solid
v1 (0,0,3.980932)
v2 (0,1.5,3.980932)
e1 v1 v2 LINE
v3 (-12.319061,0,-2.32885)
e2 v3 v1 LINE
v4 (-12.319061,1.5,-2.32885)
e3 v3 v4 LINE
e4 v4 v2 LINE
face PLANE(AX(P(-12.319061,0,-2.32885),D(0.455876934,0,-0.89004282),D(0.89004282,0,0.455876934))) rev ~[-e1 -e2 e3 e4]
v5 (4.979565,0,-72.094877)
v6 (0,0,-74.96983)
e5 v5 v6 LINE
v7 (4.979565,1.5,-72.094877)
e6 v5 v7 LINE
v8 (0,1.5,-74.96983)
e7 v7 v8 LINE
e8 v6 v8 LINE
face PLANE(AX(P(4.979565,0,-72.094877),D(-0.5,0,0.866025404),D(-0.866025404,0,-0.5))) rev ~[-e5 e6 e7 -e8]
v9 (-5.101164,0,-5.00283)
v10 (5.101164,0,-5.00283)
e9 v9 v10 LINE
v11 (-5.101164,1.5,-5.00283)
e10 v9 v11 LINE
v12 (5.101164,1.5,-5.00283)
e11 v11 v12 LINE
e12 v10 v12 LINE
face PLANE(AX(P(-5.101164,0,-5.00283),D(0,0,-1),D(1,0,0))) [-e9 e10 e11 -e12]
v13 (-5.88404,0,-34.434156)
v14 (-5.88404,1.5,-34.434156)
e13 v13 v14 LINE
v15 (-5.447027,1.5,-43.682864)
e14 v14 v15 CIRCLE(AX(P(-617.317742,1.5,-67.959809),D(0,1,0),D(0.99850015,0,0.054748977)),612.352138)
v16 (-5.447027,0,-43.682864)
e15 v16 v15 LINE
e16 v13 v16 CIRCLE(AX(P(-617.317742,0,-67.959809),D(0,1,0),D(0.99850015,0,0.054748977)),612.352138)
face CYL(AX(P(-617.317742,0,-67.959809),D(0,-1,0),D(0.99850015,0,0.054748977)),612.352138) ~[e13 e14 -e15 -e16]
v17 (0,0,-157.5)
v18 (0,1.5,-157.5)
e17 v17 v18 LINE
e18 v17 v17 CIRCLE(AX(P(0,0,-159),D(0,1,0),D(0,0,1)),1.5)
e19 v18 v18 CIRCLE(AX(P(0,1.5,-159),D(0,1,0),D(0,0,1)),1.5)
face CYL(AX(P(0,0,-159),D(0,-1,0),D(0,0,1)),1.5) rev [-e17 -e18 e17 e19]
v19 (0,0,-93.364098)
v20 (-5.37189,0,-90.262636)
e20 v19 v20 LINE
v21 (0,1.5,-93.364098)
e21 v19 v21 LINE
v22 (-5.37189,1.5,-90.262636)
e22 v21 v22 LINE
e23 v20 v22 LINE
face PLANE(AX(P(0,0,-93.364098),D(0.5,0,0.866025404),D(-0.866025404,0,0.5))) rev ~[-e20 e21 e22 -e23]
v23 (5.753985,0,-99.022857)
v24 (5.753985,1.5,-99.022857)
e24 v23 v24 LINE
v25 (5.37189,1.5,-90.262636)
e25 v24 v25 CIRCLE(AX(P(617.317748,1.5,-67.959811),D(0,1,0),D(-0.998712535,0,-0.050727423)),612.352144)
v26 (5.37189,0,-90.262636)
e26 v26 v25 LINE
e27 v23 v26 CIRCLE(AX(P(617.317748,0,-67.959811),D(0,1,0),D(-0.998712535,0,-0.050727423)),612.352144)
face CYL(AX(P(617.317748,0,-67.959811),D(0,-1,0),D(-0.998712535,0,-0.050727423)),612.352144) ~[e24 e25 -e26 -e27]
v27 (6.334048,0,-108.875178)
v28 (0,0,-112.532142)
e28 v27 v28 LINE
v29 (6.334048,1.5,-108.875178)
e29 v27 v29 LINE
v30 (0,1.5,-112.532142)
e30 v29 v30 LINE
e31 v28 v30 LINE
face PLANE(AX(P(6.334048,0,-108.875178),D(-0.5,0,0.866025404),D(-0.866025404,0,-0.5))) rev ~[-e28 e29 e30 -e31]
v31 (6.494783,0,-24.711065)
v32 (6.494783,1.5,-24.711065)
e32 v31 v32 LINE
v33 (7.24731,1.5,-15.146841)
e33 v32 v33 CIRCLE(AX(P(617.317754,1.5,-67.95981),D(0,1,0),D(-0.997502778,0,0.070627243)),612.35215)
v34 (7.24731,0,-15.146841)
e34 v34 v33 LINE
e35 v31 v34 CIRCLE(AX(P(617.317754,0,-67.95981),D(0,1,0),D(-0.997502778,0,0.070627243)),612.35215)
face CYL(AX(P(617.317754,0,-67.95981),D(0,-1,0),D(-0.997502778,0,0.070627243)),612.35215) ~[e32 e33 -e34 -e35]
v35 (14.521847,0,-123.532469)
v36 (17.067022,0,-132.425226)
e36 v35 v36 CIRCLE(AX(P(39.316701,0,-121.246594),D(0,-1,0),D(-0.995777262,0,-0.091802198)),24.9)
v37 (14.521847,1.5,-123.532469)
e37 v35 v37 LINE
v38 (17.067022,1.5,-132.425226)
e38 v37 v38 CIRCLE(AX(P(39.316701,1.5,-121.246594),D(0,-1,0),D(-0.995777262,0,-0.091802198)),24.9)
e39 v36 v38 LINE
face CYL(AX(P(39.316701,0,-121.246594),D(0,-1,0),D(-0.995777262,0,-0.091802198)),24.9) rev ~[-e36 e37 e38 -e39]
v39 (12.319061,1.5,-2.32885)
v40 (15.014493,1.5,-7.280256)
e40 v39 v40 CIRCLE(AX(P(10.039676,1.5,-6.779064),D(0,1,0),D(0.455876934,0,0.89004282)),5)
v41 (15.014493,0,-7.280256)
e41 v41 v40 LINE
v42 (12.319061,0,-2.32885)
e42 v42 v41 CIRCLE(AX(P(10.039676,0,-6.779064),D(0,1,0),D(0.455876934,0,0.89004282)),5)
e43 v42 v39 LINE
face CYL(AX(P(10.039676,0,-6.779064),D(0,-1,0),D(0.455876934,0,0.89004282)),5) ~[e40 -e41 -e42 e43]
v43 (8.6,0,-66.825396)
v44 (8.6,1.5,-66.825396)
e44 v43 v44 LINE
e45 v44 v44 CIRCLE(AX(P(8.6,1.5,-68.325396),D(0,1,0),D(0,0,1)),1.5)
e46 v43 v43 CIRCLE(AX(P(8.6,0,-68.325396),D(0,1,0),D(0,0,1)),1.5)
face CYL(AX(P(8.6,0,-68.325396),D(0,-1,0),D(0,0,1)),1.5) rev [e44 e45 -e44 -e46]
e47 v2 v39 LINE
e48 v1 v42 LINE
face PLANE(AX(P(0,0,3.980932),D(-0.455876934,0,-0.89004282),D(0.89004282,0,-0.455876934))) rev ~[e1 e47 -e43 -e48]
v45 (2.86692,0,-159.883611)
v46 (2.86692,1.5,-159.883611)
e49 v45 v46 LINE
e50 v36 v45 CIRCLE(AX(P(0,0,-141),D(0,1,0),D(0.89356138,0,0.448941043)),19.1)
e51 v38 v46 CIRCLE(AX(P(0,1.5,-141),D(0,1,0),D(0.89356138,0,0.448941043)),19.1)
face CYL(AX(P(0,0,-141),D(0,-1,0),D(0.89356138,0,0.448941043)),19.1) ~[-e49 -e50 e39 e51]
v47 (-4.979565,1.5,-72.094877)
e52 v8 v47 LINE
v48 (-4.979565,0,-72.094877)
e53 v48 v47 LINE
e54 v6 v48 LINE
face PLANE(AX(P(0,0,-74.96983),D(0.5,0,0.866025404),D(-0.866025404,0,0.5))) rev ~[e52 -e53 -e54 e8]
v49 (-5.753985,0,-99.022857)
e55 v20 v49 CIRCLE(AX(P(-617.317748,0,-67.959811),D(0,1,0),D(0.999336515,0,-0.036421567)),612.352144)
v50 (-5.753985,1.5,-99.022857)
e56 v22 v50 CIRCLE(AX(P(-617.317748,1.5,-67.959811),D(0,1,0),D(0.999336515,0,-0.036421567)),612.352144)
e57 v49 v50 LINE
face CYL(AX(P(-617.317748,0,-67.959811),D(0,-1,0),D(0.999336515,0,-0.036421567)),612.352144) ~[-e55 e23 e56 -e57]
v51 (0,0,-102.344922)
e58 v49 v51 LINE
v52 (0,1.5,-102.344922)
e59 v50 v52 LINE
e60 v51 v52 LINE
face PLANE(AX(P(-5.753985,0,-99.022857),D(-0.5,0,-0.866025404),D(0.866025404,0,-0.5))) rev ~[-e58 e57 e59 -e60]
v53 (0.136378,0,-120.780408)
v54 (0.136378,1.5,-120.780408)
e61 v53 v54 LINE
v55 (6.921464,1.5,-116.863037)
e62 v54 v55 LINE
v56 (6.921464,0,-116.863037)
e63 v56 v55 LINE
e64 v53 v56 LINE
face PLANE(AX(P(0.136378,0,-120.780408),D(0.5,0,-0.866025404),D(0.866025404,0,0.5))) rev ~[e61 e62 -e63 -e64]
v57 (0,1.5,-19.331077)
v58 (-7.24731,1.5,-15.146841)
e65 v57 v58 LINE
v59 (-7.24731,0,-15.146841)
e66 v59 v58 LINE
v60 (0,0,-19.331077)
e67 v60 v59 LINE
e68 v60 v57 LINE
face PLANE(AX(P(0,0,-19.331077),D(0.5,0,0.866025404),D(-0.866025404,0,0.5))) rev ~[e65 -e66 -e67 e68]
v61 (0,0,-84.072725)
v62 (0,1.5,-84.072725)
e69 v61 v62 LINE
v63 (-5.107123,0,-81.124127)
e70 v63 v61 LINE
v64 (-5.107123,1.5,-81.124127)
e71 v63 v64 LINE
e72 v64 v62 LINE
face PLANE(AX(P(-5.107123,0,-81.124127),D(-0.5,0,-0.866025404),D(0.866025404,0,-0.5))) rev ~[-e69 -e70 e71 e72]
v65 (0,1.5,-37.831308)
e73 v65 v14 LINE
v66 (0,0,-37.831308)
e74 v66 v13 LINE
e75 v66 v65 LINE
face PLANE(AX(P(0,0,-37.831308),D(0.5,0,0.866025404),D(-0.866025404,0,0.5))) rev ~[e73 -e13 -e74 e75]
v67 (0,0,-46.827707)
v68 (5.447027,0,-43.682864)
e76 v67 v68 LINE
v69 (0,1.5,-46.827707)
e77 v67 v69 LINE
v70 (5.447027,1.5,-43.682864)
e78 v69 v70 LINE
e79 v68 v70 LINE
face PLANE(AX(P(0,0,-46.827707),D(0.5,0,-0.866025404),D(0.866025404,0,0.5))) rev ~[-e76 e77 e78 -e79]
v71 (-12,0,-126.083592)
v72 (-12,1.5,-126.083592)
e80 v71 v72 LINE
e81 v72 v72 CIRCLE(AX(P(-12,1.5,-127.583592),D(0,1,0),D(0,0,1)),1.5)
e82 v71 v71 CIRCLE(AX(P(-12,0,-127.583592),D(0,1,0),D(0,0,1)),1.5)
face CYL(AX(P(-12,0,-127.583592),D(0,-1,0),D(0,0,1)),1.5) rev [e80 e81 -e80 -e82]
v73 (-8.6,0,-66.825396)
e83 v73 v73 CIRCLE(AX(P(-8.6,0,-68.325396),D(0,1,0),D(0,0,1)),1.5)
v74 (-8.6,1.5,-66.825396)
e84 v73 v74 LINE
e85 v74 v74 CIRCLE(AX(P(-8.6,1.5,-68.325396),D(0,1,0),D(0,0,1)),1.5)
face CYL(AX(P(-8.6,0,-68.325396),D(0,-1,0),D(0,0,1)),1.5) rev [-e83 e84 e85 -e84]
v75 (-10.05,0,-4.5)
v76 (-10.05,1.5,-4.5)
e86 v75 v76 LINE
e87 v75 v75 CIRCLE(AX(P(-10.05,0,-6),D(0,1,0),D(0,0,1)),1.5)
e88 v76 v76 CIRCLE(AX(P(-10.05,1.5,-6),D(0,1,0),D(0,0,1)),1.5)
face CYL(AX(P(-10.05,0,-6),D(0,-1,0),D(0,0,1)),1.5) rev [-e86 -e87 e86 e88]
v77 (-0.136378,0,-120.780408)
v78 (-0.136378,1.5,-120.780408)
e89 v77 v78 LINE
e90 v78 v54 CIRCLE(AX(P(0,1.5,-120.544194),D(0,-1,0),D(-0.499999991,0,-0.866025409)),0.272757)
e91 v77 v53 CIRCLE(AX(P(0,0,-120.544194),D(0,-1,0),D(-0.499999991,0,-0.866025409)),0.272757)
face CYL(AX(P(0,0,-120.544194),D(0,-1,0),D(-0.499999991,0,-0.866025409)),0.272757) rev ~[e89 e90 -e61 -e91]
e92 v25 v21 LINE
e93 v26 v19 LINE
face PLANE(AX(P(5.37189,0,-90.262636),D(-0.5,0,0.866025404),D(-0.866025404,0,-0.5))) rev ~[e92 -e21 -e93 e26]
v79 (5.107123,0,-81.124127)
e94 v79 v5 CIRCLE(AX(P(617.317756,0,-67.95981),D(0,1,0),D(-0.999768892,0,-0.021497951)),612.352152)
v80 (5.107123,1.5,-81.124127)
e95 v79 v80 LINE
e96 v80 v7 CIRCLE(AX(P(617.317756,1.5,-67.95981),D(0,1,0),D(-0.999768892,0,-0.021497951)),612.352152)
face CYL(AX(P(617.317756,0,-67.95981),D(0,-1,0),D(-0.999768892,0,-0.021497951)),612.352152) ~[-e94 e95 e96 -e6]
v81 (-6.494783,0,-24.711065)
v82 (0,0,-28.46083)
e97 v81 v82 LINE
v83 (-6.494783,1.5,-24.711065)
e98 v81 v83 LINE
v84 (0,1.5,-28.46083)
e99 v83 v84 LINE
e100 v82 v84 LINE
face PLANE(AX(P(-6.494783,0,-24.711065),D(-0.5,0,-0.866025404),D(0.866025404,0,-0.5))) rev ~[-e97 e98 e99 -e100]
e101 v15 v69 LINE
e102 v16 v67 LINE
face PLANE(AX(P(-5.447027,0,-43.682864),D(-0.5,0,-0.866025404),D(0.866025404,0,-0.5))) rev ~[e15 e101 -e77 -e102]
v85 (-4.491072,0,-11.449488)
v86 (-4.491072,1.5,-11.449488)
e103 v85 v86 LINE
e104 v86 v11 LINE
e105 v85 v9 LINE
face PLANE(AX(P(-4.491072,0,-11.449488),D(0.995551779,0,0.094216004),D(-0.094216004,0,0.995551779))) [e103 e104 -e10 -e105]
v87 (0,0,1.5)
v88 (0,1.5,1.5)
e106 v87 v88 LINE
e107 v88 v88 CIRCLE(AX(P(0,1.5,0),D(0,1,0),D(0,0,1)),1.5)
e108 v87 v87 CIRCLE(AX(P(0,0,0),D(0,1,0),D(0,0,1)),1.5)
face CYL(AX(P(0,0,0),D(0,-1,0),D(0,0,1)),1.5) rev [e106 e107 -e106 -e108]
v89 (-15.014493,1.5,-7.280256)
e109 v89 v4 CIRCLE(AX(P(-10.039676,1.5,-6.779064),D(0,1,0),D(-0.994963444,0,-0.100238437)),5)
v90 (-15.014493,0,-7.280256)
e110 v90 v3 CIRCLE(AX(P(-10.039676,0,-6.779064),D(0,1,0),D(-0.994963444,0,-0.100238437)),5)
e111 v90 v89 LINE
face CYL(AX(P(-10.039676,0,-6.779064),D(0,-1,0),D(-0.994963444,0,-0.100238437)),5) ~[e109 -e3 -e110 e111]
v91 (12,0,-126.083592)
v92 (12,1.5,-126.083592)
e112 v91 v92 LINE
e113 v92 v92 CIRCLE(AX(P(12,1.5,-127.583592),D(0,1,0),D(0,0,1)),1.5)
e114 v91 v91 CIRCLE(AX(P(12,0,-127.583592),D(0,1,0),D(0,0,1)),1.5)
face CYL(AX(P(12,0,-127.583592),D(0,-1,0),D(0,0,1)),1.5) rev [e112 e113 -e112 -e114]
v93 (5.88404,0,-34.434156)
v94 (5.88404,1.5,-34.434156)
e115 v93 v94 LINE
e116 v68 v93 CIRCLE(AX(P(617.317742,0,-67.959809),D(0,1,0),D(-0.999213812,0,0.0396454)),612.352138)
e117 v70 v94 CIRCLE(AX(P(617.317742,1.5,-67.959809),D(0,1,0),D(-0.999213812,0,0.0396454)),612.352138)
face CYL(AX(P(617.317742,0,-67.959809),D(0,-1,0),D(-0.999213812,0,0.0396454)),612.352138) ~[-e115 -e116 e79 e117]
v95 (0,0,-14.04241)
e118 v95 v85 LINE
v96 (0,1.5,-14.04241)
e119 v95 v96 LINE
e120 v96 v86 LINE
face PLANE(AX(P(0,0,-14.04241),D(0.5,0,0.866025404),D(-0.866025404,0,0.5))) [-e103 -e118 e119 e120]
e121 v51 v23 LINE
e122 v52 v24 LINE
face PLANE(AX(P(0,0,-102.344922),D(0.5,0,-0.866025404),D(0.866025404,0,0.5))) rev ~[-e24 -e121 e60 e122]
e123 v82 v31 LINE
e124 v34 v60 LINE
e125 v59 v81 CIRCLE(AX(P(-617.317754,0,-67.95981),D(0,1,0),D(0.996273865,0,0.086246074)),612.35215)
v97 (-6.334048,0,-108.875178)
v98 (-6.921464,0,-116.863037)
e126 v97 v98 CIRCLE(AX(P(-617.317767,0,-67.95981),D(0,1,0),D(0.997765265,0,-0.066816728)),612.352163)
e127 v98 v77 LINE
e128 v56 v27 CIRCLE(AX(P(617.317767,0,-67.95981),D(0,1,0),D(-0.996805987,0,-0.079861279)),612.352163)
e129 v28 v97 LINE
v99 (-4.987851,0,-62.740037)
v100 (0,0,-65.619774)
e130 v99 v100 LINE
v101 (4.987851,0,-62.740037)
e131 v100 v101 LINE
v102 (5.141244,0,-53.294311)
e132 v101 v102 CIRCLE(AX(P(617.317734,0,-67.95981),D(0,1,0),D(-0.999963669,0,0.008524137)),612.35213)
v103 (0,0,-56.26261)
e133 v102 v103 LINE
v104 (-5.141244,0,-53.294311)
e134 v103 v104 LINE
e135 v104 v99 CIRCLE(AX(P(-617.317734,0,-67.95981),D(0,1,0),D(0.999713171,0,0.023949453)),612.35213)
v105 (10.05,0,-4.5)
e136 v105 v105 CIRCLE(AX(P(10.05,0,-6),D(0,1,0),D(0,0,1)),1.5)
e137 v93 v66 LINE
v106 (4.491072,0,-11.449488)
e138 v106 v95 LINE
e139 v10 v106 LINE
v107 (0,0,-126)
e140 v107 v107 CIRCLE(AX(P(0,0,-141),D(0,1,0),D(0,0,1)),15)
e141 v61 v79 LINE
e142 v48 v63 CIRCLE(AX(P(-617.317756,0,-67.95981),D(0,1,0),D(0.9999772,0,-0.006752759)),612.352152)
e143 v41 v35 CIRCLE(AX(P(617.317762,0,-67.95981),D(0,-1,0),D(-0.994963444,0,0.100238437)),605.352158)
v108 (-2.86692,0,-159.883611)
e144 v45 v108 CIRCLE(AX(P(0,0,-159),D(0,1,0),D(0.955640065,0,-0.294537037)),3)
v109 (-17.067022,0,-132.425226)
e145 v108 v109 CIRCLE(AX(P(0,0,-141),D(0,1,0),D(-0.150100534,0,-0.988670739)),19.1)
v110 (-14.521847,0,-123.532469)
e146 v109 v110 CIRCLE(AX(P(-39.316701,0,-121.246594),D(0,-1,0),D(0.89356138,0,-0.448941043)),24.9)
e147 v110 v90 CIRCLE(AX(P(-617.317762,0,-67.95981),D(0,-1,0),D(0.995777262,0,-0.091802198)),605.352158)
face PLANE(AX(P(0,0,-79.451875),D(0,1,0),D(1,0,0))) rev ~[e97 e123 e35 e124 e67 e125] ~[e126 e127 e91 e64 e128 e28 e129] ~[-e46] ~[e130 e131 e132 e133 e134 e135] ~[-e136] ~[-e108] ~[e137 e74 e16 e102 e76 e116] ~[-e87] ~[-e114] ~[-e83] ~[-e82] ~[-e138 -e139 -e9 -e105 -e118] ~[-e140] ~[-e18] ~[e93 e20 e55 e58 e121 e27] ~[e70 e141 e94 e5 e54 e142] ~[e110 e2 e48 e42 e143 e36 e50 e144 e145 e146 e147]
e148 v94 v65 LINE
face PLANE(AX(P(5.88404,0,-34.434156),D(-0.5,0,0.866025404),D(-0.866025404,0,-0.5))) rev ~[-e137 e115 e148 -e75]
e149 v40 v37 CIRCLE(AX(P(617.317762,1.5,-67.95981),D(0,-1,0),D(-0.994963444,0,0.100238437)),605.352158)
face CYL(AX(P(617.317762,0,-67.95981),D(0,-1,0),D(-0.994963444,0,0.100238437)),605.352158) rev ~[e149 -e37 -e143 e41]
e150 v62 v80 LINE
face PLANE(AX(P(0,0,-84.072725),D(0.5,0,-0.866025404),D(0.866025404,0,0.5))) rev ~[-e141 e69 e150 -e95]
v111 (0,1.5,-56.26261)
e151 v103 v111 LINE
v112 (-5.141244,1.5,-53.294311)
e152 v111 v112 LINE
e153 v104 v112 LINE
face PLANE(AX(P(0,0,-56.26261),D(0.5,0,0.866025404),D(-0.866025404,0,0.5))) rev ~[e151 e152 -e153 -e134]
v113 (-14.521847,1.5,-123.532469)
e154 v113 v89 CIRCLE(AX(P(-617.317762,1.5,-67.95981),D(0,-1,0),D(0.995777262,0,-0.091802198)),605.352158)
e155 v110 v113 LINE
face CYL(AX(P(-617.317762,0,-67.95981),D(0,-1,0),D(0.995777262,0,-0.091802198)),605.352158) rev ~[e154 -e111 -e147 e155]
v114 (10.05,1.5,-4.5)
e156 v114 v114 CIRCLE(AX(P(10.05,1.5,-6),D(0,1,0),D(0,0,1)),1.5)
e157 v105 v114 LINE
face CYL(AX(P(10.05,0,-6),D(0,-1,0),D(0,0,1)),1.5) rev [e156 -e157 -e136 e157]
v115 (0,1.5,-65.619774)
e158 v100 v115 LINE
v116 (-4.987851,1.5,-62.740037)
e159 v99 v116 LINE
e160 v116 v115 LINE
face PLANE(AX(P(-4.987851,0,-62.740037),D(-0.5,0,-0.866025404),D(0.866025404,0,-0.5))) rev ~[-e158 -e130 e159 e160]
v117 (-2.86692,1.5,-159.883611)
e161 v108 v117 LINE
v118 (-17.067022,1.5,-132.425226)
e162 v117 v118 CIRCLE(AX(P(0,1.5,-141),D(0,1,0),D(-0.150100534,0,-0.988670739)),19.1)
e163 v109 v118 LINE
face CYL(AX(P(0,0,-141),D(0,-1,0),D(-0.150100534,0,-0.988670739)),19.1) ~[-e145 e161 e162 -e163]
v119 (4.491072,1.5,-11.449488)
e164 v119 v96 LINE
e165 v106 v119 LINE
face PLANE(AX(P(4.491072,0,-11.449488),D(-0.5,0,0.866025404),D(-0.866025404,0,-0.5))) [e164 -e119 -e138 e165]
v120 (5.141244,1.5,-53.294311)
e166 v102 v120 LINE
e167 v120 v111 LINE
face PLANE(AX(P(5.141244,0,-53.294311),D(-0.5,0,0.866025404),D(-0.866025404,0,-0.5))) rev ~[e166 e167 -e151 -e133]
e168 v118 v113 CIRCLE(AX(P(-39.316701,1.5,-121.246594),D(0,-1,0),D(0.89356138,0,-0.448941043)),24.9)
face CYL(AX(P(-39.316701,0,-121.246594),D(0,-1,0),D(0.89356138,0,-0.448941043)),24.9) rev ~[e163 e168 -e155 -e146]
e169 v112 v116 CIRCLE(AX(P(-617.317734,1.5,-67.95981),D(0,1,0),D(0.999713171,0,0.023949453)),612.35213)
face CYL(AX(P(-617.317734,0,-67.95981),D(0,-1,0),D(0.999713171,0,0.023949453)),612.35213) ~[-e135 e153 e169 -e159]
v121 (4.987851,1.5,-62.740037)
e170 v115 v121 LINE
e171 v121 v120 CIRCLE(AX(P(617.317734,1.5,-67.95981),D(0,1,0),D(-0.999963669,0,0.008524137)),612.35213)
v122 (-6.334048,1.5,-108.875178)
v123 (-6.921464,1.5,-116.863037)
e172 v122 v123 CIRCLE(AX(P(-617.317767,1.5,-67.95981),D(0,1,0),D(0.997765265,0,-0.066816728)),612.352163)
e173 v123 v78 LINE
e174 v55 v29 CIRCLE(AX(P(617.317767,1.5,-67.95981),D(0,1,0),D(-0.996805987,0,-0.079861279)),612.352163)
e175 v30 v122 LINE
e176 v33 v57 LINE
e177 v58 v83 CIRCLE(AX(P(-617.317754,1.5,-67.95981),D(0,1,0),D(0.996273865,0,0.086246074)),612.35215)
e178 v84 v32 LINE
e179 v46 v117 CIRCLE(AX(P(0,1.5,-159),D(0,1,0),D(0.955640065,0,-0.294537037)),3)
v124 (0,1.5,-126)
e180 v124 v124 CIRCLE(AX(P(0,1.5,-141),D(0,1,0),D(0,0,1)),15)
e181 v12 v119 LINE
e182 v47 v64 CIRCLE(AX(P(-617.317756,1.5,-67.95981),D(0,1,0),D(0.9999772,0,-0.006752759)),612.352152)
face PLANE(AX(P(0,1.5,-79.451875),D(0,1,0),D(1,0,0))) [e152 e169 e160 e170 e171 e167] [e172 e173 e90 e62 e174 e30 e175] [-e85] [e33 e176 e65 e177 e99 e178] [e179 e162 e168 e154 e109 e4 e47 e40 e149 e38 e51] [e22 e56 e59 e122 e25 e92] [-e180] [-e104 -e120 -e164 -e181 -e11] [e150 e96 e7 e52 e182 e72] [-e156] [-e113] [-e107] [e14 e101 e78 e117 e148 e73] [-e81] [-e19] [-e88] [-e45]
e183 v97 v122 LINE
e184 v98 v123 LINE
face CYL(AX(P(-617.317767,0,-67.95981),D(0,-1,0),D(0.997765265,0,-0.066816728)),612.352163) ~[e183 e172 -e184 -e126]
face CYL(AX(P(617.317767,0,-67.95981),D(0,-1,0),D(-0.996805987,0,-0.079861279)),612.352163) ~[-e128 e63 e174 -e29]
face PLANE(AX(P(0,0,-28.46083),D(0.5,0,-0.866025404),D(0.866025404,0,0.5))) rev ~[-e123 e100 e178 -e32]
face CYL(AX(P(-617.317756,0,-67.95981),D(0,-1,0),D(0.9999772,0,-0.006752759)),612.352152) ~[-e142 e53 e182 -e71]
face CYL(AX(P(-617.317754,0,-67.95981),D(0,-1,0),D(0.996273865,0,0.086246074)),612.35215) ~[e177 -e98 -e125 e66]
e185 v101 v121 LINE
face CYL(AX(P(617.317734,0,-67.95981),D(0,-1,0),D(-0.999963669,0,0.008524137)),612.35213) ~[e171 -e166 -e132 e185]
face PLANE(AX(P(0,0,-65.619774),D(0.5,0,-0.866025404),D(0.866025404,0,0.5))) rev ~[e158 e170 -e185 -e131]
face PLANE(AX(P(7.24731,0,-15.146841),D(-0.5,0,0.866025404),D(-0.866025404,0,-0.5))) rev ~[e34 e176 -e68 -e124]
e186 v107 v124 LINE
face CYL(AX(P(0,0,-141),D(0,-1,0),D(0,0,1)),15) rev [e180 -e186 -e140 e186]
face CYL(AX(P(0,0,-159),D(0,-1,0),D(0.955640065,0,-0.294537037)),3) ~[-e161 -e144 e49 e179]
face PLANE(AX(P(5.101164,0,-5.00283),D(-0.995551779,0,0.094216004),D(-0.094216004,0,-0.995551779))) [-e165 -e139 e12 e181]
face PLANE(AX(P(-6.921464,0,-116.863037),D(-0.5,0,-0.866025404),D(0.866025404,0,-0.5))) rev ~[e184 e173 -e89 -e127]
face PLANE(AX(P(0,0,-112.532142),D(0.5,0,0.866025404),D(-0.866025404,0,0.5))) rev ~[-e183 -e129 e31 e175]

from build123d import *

# Parameters (mm, degrees)
SKETCH_1_R      = 1.5
SKETCH_1_R_2    = 15
EXTRUDE_1_DEPTH = 1.5


with BuildPart() as part:
    # 草圖1 → 填料-伸長1 (new body)
    with BuildSketch(Plane(origin=(0, 0, 0), x_dir=(1, 0, 0), z_dir=(0, 1, 0))):
        with BuildLine():
            Line((0, -3.980931511), (12.319060855, 2.328849967))
            ThreePointArc((12.319060855, 2.328849967), (14.431141465, 4.388450613), (15.014493405, 7.28025625))
            ThreePointArc((15.014493405, 7.28025625), (11.971039141, 65.394509034), (14.52184689, 123.53246884))
            ThreePointArc((14.52184689, 123.53246884), (15.377876917, 128.098069479), (17.067022361, 132.425226083))
            ThreePointArc((17.067022361, 132.425226083), (16.965589985, 149.77375384), (2.866920195, 159.883611111))
            ThreePointArc((2.866920195, 159.883611111), (0, 162), (-2.866920195, 159.883611111))
            ThreePointArc((-2.866920195, 159.883611111), (-16.965589985, 149.77375384), (-17.067022361, 132.425226083))
            ThreePointArc((-17.067022361, 132.425226083), (-15.377876917, 128.098069479), (-14.52184689, 123.53246884))
            ThreePointArc((-14.52184689, 123.53246884), (-11.971039141, 65.394509034), (-15.014493405, 7.28025625))
            ThreePointArc((-15.014493405, 7.28025625), (-14.431141465, 4.388450613), (-12.319060855, 2.328849967))
            Line((-12.319060855, 2.328849967), (0, -3.980931511))
        make_face()
        with Locations(Location((-12, 127.583592135, 0), (0, 0, 270))):
            Circle(SKETCH_1_R, mode=Mode.SUBTRACT)
        with Locations(Location((12, 127.583592135, 0), (0, 0, 270))):
            Circle(SKETCH_1_R, mode=Mode.SUBTRACT)
        with Locations(Location((8.6, 68.325395665, 0), (0, 0, 270))):
            Circle(SKETCH_1_R, mode=Mode.SUBTRACT)
        with Locations(Location((-8.6, 68.325395665, 0), (0, 0, 270))):
            Circle(SKETCH_1_R, mode=Mode.SUBTRACT)
        with Locations(Location((10.05, 6, 0), (0, 0, 270))):
            Circle(SKETCH_1_R, mode=Mode.SUBTRACT)
        with Locations(Location((-10.05, 6, 0), (0, 0, 270))):
            Circle(SKETCH_1_R, mode=Mode.SUBTRACT)
        with Locations(Location((0, 159, 0), (0, 0, 270))):
            Circle(SKETCH_1_R, mode=Mode.SUBTRACT)
        with Locations(Location((0, 0, 0), (0, 0, 270))):
            Circle(SKETCH_1_R, mode=Mode.SUBTRACT)
        with Locations(Location((0, 141, 0), (0, 0, 270))):
            Circle(SKETCH_1_R_2, mode=Mode.SUBTRACT)
        Polygon((0, 14.042409585), (-4.491071946, 11.449487988), (-5.101164168, 5.002829556), (5.101164168, 5.002829556), (4.491071946, 11.449487988), align=None, mode=Mode.SUBTRACT)
        with BuildLine():
            Line((0, 112.532142135), (-6.334048162, 108.875177723))
            ThreePointArc((-6.334048162, 108.875177723), (-6.614696141, 112.870067669), (-6.92146425, 116.863036776))
            Line((-6.92146425, 116.863036776), (-0.136378432, 120.780407899))
            ThreePointArc((-0.136378432, 120.780407899), (0, 120.816950389), (0.136378432, 120.780407899))
            Line((0.136378432, 120.780407899), (6.92146425, 116.863036776))
            ThreePointArc((6.92146425, 116.863036776), (6.614696141, 112.870067669), (6.334048162, 108.875177723))
            Line((6.334048162, 108.875177723), (0, 112.532142135))
        make_face(mode=Mode.SUBTRACT)
        with BuildLine():
            Line((0, 102.344922167), (5.753985291, 99.02285721))
            ThreePointArc((5.753985291, 99.02285721), (5.547257407, 94.643430297), (5.371890331, 90.262635518))
            Line((5.371890331, 90.262635518), (0, 93.364097846))
            Line((0, 93.364097846), (-5.371890331, 90.262635518))
            ThreePointArc((-5.371890331, 90.262635518), (-5.547257407, 94.643430297), (-5.753985291, 99.02285721))
            Line((-5.753985291, 99.02285721), (0, 102.344922167))
        make_face(mode=Mode.SUBTRACT)
        with BuildLine():
            Line((0, 84.072725452), (5.10712289, 81.124126676))
            ThreePointArc((5.10712289, 81.124126676), (5.026699976, 76.609736924), (4.97956534, 72.094876904))
            Line((4.97956534, 72.094876904), (0, 74.969830293))
            Line((0, 74.969830293), (-4.97956534, 72.094876904))
            ThreePointArc((-4.97956534, 72.094876904), (-5.026699976, 76.609736924), (-5.10712289, 81.124126676))
            Line((-5.10712289, 81.124126676), (0, 84.072725452))
        make_face(mode=Mode.SUBTRACT)
        with BuildLine():
            Line((0, 65.619773758), (4.987851065, 62.740036603))
            ThreePointArc((4.987851065, 62.740036603), (5.046332025, 58.016878131), (5.141244155, 53.29431128))
            Line((5.141244155, 53.29431128), (0, 56.262609977))
            Line((0, 56.262609977), (-5.141244155, 53.29431128))
            ThreePointArc((-5.141244155, 53.29431128), (-5.046332025, 58.016878131), (-4.987851065, 62.740036603))
            Line((-4.987851065, 62.740036603), (0, 65.619773758))
        make_face(mode=Mode.SUBTRACT)
        with BuildLine():
            Line((0, 46.827706802), (5.447027498, 43.68286401))
            ThreePointArc((5.447027498, 43.68286401), (5.648052955, 39.057684109), (5.884040018, 34.434156186))
            Line((5.884040018, 34.434156186), (0, 37.831308275))
            Line((0, 37.831308275), (-5.884040018, 34.434156186))
            ThreePointArc((-5.884040018, 34.434156186), (-5.648052955, 39.057684109), (-5.447027498, 43.68286401))
            Line((-5.447027498, 43.68286401), (0, 46.827706802))
        make_face(mode=Mode.SUBTRACT)
        with BuildLine():
            Line((0, 28.460830008), (6.494782795, 24.711065414))
            ThreePointArc((6.494782795, 24.711065414), (6.852315766, 19.927479382), (7.247310233, 15.146840877))
            Line((7.247310233, 15.146840877), (0, 19.331077391))
            Line((0, 19.331077391), (-7.247310233, 15.146840877))
            ThreePointArc((-7.247310233, 15.146840877), (-6.852315766, 19.927479382), (-6.494782795, 24.711065414))
            Line((-6.494782795, 24.711065414), (0, 28.460830008))
        make_face(mode=Mode.SUBTRACT)
    extrude(amount=EXTRUDE_1_DEPTH)


solid = part.part
